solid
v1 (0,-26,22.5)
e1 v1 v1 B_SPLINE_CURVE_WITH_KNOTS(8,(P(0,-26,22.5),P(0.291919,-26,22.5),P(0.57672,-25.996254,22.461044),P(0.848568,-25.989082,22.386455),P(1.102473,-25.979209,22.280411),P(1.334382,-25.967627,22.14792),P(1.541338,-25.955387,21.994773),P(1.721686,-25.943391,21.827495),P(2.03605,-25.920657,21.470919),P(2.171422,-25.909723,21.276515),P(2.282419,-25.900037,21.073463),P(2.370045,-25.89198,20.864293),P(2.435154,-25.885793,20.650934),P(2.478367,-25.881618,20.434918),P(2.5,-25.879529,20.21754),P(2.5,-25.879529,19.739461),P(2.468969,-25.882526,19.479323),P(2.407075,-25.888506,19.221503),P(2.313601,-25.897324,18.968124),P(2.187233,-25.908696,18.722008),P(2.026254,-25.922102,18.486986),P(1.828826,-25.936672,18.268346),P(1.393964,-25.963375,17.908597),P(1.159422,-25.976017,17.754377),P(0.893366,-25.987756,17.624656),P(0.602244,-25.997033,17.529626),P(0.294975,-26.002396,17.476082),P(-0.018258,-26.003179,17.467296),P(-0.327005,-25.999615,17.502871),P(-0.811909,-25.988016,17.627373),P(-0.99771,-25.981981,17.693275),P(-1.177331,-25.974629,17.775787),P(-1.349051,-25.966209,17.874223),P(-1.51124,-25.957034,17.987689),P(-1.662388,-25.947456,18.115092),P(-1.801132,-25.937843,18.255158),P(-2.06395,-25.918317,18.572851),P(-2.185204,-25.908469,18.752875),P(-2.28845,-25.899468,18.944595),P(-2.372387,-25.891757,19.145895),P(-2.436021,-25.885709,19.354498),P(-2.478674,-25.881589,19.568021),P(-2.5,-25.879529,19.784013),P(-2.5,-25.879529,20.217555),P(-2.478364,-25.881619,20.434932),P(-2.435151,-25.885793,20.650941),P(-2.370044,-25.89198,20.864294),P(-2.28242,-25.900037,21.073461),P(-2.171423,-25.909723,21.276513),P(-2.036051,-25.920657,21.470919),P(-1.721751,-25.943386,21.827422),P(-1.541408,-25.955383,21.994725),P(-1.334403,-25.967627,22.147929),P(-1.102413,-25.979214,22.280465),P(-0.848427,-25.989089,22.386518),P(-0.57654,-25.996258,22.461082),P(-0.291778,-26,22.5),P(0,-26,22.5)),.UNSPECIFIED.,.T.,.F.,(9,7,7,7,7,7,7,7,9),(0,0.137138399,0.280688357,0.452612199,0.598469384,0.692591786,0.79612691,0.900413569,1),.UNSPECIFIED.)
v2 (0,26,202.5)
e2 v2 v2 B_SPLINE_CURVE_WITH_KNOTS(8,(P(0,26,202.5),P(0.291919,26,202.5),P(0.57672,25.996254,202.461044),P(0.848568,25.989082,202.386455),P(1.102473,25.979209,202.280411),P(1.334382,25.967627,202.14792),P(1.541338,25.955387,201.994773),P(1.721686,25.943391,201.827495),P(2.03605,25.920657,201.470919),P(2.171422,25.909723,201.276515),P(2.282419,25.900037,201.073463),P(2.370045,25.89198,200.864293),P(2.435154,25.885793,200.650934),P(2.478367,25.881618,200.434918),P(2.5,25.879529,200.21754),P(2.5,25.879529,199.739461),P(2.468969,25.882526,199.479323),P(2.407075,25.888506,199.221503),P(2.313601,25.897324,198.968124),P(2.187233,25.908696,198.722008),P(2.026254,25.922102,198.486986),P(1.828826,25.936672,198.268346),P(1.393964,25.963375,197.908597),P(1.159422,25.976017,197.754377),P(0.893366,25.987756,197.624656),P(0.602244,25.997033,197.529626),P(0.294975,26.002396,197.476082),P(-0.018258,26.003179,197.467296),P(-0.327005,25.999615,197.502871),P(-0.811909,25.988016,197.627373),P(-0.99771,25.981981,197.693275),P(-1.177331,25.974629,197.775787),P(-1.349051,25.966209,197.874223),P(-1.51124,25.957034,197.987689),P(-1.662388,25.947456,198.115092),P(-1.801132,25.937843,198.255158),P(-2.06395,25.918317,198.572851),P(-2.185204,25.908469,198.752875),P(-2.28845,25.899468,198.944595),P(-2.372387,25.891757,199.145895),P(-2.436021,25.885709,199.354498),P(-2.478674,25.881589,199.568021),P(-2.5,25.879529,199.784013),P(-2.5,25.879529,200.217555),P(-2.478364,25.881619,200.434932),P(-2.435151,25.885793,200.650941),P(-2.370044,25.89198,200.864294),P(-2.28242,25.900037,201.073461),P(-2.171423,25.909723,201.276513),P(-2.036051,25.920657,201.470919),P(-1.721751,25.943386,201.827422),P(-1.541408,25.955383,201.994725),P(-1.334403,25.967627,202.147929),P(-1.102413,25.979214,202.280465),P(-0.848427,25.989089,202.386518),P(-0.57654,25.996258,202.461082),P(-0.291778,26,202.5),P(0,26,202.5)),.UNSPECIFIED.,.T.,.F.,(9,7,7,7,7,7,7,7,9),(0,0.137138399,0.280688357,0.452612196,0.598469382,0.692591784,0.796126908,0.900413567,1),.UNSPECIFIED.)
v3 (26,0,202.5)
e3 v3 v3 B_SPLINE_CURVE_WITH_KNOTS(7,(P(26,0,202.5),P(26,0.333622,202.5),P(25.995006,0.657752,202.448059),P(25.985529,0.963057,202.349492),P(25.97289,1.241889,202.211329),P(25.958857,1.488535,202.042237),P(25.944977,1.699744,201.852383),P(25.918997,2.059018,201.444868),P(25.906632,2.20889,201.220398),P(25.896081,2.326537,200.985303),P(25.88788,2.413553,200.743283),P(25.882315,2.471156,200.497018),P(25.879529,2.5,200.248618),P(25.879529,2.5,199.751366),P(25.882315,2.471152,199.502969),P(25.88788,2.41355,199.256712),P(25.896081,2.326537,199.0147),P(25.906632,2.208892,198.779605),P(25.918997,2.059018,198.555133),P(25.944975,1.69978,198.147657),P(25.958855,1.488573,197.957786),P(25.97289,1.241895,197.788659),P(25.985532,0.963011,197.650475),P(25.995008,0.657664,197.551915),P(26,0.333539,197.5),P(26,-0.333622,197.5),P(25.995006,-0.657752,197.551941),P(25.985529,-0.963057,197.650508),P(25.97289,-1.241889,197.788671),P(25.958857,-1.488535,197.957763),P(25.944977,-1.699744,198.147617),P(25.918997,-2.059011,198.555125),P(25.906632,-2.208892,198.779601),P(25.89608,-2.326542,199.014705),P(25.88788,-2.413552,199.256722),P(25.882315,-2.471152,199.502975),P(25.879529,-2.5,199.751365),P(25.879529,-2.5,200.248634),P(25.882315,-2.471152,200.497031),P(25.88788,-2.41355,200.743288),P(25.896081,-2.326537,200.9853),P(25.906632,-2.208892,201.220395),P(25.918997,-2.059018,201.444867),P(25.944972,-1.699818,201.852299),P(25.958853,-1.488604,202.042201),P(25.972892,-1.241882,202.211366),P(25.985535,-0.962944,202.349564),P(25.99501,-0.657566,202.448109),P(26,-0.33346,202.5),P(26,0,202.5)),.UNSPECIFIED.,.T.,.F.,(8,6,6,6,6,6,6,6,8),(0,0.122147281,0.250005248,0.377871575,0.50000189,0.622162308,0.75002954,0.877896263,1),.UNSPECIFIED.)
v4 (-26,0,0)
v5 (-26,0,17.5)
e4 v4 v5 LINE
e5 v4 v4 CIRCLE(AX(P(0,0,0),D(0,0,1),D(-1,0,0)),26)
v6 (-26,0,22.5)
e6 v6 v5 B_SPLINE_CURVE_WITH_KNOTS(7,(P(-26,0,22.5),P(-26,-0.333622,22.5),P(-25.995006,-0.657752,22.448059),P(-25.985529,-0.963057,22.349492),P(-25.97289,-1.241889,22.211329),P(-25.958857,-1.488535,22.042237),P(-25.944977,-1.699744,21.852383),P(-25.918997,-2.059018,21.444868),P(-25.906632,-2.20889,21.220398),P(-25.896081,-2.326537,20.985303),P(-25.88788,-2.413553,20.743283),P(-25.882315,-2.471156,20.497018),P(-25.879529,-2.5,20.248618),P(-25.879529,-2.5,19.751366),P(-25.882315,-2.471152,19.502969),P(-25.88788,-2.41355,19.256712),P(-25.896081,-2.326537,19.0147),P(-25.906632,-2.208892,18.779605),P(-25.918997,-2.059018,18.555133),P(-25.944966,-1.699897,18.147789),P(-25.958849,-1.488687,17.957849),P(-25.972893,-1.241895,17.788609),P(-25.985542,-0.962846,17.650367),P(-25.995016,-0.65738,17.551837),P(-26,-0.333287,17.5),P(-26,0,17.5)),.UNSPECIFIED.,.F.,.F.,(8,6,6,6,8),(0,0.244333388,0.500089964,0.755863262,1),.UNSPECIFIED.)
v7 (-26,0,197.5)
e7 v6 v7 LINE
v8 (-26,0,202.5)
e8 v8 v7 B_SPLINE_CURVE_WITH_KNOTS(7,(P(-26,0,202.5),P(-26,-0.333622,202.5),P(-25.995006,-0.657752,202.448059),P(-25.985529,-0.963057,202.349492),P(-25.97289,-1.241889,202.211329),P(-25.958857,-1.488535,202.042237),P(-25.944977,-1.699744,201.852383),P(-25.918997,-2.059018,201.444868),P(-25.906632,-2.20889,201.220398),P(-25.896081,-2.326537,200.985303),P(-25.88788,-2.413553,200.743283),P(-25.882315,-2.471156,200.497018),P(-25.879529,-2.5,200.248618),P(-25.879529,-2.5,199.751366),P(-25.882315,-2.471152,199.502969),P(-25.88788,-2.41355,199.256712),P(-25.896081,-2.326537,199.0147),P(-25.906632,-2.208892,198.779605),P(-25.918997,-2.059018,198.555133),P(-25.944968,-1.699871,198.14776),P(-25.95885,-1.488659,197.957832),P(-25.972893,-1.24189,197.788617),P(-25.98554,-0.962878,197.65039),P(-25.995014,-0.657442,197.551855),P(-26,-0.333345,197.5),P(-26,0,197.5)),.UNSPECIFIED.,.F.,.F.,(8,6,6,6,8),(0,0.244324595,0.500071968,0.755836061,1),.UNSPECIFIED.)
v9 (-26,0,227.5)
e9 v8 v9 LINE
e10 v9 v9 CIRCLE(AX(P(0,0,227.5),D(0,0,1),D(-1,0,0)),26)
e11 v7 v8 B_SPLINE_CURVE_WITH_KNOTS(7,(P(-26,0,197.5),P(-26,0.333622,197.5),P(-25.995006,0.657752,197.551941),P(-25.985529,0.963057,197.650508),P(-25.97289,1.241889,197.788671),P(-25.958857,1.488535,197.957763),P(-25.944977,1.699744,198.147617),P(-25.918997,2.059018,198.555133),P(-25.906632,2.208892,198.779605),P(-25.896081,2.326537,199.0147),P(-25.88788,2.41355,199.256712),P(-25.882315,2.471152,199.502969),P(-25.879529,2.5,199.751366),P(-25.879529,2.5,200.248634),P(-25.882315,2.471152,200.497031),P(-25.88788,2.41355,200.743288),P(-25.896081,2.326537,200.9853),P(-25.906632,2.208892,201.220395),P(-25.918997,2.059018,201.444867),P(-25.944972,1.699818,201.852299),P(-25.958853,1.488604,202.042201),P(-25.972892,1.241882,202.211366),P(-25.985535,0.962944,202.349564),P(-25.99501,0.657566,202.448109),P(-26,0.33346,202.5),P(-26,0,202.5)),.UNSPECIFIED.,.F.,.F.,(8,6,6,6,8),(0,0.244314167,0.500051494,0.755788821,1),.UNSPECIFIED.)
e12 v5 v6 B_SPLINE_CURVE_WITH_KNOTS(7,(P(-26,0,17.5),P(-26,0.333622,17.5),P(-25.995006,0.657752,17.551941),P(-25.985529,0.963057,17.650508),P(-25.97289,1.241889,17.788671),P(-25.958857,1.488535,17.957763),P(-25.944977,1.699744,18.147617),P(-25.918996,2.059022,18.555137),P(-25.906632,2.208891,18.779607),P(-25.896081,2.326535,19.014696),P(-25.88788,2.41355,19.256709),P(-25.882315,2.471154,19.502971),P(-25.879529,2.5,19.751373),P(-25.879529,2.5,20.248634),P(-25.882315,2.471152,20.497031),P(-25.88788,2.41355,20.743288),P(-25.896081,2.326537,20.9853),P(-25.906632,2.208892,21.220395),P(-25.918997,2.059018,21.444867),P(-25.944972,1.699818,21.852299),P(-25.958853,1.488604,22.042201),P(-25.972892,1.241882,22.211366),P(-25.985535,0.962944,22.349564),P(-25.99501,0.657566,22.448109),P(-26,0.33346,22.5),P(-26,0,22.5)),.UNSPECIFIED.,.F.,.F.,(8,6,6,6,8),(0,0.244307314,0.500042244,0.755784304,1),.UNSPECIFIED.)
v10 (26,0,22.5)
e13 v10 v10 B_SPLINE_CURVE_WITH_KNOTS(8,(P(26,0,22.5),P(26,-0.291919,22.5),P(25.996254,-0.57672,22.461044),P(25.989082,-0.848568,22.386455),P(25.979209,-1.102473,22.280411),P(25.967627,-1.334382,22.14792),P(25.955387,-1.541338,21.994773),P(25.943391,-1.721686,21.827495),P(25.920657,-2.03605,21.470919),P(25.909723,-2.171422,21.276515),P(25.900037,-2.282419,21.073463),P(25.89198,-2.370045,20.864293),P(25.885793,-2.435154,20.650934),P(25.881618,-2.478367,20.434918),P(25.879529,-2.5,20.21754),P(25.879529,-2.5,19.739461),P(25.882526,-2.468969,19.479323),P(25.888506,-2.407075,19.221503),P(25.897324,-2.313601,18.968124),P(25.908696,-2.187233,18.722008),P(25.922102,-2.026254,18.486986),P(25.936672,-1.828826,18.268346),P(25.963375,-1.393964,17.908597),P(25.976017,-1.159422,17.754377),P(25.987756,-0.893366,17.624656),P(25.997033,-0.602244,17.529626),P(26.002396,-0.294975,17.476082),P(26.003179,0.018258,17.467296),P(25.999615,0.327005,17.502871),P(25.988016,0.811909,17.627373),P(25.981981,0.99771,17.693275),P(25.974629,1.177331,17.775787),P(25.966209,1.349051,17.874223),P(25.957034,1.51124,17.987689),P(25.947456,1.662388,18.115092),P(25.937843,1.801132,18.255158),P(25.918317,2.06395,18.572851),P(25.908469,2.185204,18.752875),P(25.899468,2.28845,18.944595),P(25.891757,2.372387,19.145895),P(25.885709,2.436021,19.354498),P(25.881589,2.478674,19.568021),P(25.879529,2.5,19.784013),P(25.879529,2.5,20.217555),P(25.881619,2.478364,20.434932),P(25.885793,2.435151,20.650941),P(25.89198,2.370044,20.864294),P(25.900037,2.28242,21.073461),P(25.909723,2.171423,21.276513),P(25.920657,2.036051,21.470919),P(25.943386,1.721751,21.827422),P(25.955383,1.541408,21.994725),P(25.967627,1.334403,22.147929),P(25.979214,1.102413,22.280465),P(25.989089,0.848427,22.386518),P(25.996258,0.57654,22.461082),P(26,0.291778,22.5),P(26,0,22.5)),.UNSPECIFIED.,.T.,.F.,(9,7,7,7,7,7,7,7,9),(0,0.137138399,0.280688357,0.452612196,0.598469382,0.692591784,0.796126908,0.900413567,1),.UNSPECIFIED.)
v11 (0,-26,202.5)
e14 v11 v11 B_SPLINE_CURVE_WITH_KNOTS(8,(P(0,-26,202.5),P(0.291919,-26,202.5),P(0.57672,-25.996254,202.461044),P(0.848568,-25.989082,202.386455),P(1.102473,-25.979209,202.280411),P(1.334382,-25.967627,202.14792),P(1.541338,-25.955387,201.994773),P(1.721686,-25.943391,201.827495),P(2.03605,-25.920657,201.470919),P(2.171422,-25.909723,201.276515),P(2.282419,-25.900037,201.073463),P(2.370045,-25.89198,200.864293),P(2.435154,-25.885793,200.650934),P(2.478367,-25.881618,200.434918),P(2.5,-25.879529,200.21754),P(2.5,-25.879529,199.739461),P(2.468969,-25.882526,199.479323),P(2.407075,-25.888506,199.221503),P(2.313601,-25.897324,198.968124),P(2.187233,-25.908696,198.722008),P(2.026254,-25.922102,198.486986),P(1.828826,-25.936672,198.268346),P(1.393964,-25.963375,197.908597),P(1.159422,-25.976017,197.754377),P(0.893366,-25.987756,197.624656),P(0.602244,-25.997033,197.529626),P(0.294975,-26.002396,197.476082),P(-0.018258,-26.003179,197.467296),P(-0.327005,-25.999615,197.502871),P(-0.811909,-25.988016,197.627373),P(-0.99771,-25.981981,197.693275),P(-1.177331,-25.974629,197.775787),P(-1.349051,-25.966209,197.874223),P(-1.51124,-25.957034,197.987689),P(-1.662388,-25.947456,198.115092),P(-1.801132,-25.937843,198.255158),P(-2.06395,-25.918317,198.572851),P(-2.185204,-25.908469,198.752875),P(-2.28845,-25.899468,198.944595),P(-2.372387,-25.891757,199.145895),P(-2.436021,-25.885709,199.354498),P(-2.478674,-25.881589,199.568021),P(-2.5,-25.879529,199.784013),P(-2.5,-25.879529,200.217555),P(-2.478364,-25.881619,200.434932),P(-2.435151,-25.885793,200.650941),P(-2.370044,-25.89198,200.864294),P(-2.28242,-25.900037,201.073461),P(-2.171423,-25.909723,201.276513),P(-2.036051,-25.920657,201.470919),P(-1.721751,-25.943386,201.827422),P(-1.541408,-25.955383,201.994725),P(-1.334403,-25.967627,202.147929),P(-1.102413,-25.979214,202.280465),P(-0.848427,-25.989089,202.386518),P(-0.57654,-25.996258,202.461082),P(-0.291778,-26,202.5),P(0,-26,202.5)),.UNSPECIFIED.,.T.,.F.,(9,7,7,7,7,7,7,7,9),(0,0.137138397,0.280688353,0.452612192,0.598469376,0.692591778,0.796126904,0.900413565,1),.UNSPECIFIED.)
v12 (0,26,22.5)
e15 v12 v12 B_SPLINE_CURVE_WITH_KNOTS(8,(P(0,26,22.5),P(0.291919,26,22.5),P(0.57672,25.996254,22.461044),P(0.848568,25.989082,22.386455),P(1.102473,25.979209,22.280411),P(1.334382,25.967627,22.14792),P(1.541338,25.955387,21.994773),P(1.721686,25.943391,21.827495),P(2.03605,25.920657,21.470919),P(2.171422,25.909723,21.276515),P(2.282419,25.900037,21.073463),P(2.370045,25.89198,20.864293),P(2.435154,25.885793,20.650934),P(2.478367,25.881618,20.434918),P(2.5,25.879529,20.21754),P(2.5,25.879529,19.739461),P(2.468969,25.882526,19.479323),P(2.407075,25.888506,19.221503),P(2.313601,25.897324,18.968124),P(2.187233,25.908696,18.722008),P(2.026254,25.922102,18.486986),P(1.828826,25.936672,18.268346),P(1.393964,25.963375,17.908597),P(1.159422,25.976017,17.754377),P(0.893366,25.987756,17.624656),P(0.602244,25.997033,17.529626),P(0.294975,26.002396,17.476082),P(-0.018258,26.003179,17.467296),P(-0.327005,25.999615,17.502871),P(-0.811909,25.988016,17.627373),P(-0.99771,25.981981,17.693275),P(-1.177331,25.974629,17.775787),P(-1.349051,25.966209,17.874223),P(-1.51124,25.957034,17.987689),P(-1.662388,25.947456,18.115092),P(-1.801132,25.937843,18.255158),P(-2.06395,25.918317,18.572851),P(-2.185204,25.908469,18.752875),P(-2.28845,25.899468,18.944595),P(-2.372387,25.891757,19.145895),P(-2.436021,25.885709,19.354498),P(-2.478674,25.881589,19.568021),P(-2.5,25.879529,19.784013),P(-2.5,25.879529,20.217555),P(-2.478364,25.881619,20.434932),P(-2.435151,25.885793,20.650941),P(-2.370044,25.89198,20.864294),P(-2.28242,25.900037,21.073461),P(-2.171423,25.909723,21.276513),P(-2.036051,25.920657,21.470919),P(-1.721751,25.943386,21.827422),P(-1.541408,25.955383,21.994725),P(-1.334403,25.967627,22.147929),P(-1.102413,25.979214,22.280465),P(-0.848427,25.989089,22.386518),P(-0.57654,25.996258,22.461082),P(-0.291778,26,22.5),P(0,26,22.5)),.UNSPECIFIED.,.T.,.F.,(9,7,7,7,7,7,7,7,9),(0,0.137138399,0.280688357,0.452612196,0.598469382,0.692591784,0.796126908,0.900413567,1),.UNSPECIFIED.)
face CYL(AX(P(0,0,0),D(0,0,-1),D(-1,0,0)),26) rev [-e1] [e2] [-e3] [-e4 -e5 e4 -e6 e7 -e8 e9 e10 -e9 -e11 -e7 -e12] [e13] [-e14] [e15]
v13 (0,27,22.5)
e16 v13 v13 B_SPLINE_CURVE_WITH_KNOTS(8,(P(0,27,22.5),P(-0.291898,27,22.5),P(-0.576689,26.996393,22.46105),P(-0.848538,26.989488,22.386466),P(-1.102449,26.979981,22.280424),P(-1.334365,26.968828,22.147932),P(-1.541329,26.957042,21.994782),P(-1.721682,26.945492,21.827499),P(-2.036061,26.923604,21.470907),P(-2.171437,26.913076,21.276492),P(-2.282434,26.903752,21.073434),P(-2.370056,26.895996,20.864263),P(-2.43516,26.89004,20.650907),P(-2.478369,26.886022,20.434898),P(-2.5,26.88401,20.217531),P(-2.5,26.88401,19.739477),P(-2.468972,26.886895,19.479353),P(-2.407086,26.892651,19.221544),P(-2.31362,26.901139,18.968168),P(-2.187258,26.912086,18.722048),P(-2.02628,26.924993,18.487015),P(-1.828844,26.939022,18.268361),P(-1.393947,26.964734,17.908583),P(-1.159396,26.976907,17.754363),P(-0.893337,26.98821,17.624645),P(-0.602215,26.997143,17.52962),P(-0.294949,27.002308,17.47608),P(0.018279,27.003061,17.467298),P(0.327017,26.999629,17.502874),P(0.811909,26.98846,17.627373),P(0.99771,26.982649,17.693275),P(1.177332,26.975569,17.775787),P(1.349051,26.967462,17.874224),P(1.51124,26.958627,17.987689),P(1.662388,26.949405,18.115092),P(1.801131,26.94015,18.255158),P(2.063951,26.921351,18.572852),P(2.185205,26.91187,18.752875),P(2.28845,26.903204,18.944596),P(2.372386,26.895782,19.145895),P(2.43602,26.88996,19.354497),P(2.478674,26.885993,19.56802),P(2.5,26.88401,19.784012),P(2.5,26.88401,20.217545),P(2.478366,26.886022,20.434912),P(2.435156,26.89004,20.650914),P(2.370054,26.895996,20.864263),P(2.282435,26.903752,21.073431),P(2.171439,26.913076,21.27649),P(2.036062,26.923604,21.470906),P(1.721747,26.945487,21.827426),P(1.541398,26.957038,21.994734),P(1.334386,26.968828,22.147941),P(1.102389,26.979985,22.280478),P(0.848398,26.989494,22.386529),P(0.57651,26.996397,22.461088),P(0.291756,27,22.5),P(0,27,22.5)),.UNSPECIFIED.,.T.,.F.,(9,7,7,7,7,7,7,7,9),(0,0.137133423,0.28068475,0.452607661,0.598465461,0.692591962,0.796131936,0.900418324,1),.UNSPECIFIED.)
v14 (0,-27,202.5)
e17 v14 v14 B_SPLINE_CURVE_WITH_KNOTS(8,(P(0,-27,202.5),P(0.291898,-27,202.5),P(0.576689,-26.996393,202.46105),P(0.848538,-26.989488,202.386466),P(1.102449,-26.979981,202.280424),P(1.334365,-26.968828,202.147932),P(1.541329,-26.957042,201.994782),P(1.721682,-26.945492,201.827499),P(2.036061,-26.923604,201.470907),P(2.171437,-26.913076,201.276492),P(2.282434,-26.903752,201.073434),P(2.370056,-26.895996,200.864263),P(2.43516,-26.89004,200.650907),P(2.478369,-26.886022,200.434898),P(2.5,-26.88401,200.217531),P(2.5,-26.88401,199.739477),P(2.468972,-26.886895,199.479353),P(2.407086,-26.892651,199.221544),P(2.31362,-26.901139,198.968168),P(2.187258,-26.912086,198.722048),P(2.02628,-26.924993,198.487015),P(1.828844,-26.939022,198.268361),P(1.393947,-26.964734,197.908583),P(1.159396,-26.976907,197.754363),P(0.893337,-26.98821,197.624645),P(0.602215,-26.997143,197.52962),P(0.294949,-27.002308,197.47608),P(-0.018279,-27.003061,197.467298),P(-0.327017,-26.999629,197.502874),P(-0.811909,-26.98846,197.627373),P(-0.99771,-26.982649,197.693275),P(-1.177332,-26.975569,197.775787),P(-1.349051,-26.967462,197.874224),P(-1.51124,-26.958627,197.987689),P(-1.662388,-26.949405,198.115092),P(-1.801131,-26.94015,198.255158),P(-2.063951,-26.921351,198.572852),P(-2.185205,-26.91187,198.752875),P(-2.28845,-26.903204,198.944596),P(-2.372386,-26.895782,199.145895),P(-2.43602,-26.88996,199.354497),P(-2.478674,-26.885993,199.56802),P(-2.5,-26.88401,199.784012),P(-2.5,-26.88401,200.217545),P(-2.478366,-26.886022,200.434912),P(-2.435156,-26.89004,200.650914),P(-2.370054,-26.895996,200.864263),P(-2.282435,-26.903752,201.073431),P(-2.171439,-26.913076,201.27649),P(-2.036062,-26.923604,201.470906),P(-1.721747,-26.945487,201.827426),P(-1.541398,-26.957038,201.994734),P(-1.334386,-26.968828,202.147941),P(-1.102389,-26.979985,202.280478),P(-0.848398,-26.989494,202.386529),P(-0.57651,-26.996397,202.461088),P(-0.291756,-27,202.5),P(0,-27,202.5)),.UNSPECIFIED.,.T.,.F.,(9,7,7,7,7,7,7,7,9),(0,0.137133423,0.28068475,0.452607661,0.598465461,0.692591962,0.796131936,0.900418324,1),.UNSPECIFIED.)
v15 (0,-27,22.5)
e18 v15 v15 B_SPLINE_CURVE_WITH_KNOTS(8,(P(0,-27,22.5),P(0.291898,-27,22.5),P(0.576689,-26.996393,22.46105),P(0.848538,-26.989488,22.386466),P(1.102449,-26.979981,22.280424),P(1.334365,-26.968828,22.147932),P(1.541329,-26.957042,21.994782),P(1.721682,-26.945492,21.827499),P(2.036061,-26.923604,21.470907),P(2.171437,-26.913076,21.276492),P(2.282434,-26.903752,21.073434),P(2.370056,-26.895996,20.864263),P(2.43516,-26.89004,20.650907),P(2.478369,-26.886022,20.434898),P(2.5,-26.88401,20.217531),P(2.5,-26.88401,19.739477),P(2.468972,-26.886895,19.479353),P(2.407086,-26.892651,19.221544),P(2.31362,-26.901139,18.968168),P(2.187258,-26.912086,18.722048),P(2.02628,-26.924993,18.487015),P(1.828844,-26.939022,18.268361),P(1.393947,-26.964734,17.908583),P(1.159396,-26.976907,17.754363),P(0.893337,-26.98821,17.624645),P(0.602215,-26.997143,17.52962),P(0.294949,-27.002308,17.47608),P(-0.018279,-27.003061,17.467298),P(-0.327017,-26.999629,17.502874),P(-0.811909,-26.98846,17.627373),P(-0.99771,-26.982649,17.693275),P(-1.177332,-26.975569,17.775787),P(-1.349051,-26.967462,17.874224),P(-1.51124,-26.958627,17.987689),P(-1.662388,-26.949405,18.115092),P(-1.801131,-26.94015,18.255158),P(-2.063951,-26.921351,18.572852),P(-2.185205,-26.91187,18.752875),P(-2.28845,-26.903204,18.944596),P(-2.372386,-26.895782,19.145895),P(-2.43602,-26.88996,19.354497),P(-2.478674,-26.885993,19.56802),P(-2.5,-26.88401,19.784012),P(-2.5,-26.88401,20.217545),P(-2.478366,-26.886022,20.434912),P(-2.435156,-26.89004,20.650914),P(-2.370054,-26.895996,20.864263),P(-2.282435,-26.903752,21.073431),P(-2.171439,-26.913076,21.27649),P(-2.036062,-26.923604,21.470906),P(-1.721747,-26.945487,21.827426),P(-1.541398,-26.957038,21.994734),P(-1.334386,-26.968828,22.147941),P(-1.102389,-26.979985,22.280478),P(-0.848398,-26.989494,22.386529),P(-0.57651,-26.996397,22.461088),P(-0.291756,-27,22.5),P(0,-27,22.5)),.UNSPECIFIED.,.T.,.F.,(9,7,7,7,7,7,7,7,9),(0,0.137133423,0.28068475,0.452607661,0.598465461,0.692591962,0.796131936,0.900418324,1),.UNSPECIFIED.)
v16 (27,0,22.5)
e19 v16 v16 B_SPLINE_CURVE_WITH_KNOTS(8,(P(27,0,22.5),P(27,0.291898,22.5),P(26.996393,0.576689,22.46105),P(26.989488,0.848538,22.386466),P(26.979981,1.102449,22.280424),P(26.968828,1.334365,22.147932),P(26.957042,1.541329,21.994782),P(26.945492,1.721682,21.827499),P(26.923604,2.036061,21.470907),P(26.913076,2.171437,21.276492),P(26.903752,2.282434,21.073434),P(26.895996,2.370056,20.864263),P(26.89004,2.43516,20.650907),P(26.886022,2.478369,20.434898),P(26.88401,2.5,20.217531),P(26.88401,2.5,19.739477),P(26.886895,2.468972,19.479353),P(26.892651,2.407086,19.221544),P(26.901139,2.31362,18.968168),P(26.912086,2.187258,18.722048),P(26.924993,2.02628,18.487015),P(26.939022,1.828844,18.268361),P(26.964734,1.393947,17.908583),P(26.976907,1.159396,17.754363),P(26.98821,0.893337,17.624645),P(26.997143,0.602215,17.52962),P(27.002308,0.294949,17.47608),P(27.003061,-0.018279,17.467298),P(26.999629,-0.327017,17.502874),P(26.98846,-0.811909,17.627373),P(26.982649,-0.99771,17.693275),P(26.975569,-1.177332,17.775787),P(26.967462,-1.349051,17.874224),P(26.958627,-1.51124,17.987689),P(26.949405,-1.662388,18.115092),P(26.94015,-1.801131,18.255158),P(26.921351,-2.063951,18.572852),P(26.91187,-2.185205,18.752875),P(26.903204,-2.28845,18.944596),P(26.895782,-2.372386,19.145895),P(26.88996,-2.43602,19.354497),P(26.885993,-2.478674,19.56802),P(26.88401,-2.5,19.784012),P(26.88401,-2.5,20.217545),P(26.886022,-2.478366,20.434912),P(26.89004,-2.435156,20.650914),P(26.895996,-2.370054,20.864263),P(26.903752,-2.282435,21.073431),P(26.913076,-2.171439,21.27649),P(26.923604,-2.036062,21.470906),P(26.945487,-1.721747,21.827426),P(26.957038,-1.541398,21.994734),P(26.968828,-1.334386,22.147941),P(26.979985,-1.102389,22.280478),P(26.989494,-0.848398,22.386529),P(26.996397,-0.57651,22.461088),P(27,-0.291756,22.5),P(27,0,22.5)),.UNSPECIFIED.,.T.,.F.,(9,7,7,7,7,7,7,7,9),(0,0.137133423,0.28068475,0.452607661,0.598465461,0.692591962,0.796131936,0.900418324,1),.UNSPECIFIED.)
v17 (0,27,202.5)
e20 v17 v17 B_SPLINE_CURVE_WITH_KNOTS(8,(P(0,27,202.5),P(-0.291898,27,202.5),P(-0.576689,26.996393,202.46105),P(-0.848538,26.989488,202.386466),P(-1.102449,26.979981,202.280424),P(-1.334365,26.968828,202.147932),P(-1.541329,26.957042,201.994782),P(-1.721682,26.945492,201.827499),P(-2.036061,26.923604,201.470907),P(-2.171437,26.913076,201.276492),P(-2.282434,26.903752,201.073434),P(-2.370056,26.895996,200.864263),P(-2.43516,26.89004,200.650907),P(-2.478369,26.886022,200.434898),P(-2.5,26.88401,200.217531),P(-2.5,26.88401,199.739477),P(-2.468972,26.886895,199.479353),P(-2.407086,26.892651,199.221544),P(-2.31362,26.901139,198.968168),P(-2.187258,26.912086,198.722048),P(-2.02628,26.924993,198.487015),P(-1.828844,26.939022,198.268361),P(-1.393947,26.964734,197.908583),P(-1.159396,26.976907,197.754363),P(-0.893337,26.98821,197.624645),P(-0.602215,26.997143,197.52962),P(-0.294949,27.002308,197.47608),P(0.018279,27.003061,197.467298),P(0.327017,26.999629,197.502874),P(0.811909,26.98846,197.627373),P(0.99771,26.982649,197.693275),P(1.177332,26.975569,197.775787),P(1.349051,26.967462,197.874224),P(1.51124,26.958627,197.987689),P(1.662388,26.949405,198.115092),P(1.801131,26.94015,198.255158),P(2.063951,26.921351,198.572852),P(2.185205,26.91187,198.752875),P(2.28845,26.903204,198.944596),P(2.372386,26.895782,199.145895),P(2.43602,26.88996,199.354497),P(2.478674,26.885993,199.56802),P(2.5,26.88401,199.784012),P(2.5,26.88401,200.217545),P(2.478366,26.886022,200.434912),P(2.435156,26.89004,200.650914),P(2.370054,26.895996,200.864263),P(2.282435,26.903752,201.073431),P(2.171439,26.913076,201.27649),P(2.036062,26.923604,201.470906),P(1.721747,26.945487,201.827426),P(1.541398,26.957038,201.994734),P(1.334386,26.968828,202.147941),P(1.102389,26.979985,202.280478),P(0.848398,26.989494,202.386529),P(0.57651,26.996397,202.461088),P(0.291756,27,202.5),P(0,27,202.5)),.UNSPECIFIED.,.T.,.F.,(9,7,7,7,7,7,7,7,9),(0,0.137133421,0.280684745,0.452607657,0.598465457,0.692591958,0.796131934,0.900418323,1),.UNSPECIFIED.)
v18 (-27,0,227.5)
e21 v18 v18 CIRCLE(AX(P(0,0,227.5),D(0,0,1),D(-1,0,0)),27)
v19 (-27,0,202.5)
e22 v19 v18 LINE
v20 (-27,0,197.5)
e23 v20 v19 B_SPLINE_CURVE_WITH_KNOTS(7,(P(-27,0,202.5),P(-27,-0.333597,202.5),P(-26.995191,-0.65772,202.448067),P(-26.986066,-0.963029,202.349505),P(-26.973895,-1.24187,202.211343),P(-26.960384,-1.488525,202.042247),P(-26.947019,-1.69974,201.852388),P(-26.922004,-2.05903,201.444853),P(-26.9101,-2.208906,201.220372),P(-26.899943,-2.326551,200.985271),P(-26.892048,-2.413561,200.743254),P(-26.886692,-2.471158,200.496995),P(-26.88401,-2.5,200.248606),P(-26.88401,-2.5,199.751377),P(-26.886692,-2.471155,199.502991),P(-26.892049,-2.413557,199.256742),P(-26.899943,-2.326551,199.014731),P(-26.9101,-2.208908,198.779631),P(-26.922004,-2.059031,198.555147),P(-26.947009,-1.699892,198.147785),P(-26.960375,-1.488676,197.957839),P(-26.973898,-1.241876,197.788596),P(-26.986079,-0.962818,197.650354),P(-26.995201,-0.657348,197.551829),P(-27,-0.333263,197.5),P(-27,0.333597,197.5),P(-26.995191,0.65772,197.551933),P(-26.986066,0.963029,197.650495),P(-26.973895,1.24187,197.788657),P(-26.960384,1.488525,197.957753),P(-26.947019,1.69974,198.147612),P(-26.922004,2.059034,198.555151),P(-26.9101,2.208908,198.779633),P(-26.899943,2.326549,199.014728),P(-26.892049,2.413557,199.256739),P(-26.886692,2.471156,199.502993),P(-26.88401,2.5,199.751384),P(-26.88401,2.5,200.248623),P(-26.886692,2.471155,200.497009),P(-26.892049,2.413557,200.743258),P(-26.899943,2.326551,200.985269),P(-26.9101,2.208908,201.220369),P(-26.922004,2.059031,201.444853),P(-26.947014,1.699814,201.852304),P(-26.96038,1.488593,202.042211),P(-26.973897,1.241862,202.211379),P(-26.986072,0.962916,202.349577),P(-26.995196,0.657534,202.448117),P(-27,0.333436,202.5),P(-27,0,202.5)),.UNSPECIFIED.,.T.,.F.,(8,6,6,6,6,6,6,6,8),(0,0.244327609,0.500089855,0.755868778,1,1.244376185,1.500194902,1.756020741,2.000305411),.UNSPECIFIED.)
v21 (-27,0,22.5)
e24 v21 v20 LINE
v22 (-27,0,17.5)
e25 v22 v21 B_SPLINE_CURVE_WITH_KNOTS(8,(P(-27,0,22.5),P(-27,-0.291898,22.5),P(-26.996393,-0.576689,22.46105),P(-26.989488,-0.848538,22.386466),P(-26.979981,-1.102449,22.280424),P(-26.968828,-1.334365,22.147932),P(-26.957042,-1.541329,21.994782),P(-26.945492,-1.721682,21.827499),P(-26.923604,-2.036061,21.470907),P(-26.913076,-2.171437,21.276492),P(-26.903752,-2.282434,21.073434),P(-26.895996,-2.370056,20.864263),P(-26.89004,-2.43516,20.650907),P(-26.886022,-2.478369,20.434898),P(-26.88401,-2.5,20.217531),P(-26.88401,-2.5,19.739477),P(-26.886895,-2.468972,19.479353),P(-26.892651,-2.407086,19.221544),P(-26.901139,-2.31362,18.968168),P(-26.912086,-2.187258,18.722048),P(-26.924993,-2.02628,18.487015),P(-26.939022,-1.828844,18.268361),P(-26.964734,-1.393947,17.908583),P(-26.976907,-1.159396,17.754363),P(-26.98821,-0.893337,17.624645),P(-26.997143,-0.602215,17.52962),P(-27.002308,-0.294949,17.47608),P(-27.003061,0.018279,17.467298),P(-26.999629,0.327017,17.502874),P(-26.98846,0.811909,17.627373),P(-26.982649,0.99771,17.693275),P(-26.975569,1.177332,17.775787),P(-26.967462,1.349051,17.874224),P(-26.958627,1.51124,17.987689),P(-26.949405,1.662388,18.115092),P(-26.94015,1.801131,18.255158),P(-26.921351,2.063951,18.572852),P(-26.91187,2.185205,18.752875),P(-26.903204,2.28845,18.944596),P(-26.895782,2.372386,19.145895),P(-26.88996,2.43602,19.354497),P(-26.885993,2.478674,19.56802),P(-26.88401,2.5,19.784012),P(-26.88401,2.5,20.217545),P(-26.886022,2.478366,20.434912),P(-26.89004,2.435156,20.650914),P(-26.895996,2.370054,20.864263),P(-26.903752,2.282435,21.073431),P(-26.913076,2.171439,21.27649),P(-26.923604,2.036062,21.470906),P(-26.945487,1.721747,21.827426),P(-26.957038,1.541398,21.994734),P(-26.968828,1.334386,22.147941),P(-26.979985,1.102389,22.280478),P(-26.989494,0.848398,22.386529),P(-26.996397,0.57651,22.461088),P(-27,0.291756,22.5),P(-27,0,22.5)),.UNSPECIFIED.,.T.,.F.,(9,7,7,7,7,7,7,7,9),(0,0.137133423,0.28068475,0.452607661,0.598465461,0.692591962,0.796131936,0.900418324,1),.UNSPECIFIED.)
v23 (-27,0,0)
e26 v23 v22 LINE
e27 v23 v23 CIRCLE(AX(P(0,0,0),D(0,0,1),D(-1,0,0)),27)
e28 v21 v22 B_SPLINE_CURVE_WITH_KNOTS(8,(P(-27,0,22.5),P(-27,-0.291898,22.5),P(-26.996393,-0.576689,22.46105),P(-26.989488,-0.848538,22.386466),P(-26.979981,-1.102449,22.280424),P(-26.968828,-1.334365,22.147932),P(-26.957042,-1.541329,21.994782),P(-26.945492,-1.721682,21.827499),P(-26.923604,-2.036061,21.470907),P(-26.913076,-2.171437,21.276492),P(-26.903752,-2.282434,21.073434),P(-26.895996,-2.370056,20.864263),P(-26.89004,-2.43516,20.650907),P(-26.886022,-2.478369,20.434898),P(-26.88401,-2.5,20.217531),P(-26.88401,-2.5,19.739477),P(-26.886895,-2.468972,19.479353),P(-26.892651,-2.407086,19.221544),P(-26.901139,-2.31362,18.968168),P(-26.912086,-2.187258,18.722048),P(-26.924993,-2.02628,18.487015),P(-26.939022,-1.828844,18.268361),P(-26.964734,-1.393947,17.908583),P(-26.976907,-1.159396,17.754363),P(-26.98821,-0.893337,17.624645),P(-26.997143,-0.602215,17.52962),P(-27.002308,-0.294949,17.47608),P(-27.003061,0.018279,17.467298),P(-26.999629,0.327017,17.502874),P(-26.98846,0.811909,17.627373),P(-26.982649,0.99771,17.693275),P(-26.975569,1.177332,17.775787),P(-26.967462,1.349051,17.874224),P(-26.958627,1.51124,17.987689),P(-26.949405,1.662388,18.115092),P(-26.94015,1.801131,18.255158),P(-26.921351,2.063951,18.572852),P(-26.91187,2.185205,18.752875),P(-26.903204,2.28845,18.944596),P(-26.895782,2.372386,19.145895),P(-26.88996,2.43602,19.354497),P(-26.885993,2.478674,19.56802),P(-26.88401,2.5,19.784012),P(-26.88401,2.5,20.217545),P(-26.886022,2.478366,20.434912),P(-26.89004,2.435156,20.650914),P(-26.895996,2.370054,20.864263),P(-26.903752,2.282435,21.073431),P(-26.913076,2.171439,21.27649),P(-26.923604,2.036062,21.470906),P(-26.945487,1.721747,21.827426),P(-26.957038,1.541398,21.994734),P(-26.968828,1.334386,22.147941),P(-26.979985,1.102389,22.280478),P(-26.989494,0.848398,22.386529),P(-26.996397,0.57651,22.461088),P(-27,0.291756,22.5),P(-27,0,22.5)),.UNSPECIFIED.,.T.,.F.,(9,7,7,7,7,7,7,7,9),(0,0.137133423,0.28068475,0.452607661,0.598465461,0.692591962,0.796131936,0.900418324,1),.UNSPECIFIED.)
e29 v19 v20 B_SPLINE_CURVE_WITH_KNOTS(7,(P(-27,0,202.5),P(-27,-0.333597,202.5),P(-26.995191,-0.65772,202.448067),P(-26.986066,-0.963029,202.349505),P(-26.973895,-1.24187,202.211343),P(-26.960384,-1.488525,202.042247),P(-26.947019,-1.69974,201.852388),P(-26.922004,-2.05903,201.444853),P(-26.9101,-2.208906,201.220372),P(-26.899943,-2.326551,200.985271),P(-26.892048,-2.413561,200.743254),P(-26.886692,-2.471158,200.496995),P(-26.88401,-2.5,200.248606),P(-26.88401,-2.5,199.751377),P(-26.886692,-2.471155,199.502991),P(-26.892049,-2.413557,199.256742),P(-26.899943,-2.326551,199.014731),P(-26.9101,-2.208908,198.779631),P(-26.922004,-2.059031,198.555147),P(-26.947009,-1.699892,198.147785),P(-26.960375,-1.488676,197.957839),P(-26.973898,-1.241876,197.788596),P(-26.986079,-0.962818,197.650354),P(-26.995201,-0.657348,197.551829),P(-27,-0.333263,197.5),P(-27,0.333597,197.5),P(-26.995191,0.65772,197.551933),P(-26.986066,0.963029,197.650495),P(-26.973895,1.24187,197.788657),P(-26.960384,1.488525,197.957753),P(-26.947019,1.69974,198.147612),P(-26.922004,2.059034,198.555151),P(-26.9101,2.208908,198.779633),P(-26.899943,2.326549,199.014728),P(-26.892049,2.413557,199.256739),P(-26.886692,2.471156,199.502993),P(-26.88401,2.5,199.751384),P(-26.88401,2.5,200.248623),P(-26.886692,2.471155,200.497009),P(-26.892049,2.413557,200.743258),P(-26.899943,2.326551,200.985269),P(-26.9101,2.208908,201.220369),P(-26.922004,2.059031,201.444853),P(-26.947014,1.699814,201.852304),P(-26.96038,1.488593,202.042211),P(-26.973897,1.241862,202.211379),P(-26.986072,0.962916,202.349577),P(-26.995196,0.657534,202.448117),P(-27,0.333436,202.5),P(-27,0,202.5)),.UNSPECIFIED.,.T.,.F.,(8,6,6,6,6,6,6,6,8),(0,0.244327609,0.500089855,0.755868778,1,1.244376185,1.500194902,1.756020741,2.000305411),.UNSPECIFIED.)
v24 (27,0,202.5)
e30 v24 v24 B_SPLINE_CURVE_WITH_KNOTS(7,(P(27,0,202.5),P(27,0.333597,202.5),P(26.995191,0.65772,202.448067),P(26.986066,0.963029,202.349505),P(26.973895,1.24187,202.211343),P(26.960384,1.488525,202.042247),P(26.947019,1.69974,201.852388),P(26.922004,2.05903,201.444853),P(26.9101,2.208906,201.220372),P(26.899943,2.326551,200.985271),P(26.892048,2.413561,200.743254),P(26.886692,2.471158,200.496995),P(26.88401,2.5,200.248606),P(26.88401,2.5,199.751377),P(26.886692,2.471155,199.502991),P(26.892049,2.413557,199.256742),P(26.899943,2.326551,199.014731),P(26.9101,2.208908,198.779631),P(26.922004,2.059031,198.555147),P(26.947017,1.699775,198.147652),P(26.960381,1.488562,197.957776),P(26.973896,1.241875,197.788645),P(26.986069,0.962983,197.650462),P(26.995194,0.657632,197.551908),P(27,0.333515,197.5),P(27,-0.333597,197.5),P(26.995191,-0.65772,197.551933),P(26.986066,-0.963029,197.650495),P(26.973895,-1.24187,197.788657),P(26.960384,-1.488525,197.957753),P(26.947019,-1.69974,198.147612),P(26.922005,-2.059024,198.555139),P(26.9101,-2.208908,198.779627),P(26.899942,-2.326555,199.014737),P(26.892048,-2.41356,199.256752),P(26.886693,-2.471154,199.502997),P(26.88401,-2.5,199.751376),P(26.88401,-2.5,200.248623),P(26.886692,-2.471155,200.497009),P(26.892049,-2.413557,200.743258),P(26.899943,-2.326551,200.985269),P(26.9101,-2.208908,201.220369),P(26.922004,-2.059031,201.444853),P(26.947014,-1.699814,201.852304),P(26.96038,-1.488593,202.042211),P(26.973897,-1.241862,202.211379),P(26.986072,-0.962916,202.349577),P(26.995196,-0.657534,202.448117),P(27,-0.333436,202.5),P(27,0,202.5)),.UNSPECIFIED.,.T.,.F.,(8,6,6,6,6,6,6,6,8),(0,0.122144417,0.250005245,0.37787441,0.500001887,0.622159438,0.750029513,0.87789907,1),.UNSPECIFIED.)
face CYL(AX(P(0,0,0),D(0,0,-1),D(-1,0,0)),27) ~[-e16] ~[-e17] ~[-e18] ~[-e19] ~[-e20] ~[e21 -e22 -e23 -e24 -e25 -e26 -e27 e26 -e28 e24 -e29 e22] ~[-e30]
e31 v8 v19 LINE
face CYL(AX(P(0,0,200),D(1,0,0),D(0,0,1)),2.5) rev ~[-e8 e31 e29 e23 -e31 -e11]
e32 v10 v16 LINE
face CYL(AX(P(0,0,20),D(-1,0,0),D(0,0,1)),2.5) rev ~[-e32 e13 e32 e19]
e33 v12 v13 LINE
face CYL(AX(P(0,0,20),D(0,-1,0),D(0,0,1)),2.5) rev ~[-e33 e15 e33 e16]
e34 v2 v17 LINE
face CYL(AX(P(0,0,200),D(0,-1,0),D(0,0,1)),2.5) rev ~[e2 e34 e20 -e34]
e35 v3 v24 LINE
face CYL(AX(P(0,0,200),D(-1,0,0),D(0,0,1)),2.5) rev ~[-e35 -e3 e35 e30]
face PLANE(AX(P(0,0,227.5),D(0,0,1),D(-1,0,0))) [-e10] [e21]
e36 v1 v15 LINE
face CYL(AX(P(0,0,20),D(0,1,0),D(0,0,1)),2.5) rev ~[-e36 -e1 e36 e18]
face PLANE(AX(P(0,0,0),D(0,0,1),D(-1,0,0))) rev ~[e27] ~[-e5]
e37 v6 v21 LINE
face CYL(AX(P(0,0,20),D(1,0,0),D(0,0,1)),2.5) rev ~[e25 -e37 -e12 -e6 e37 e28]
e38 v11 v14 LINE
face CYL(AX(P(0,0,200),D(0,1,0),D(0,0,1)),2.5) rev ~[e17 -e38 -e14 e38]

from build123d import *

# Parameters (mm, degrees)
SKETCH1_R                           = 27
SKETCH1_R_2                         = 26
BOSS_EXTRUDE1_DEPTH                 = 227.5
CUT_EXTRUDE1_REACH                  = 232.682
CUT_EXTRUDE1_END_RADIUS             = 27
SKETCH2_R                           = 2.5
CUT_EXTRUDE1_DIRECTION_2_REACH      = 232.682
CUT_EXTRUDE1_DIRECTION_2_END_RADIUS = 26
LPATTERN1_COUNT                     = 2
LPATTERN1_PITCH                     = 180
CIRPATTERN2_COUNT                   = 4
CIRPATTERN2_COPY_1_REACH            = 232.682
CIRPATTERN2_COPY_1_END_RADIUS       = 27
CIRPATTERN2_COPY_1_SKETCH_R         = 2.5
CIRPATTERN2_COPY_2_REACH            = 232.682
CIRPATTERN2_COPY_2_END_RADIUS       = 27
CIRPATTERN2_COPY_2_SKETCH_R         = 2.5
CIRPATTERN2_COPY_3_REACH            = 232.682
CIRPATTERN2_COPY_3_END_RADIUS       = 27
CIRPATTERN2_COPY_3_SKETCH_R         = 2.5


with BuildPart() as part:
    # Sketch1 → Boss-Extrude1 (new body)
    with BuildSketch(Plane.XY):
        with Locations(Location((0, 0, 0), (0, 0, 180))):
            Circle(SKETCH1_R)
        with Locations(Location((0, 0, 0), (0, 0, 180))):
            Circle(SKETCH1_R_2, mode=Mode.SUBTRACT)
    extrude(amount=BOSS_EXTRUDE1_DEPTH)

    # Cut-Extrude1: up to this cylinder (the profile starts inside it)
    cut_extrude1_end = Plane(origin=(0, 0, 20), z_dir=(0, 0, -1)) * Cylinder(CUT_EXTRUDE1_END_RADIUS, 520.364, mode=Mode.PRIVATE)
    # Sketch2 → Cut-Extrude1 (cut, up to the surface)
    with BuildSketch(Plane(origin=(0, 0, 0), x_dir=(1, 0, 0), z_dir=(0, 1, 0)), mode=Mode.PRIVATE) as cut_extrude1_sk1:
        with Locations(Location((0, -20, 0), (0, 0, 270))):
            Circle(SKETCH2_R)
    cut_extrude1_tool1 = extrude(cut_extrude1_sk1.sketch, amount=-CUT_EXTRUDE1_REACH, mode=Mode.PRIVATE) & cut_extrude1_end
    cut_extrude1 = cut_extrude1_tool1.solids().sort_by_distance((0, 0, 20))[0]
    add(cut_extrude1, mode=Mode.SUBTRACT)

    # Cut-Extrude1 direction 2: up to this cylinder (the profile starts inside it)
    cut_extrude1_direction_2_end = Plane(origin=(0, 0, 20), z_dir=(0, 0, -1)) * Cylinder(CUT_EXTRUDE1_DIRECTION_2_END_RADIUS, 518.364, mode=Mode.PRIVATE)
    # Sketch2 → Cut-Extrude1 direction 2 (cut, up to the surface)
    with BuildSketch(Plane(origin=(0, 0, 0), x_dir=(1, 0, 0), z_dir=(0, 1, 0)), mode=Mode.PRIVATE) as cut_extrude1_direction_2_sk1:
        with Locations(Location((0, -20, 0), (0, 0, 270))):
            Circle(SKETCH2_R)
    cut_extrude1_direction_2_tool1 = extrude(cut_extrude1_direction_2_sk1.sketch, amount=CUT_EXTRUDE1_DIRECTION_2_REACH, mode=Mode.PRIVATE) & cut_extrude1_direction_2_end
    cut_extrude1_direction_2 = cut_extrude1_direction_2_tool1.solids().sort_by_distance((0, 0, 20))[0]
    add(cut_extrude1_direction_2, mode=Mode.SUBTRACT)
    cut_extrude1 = cut_extrude1 + cut_extrude1_direction_2  # both directions under the feature's name, for the pattern or mirror that repeats it

    # LPattern1: Cut-Extrude1 ×2
    with Locations(*[(0, 0, i * LPATTERN1_PITCH) for i in range(1, LPATTERN1_COUNT)]):
        add(cut_extrude1, mode=Mode.SUBTRACT)

    # CirPattern2: Cut-Extrude1 ×4 about axis
    cirpattern2_axis = Axis((0, 0, 227.5), (0, 0, -1))
    for i in range(1, CIRPATTERN2_COUNT):
        add(cut_extrude1.rotate(cirpattern2_axis, i * 360 / CIRPATTERN2_COUNT), mode=Mode.SUBTRACT)

    # CirPattern2 copy 1: up to this cylinder (the profile starts inside it)
    cirpattern2_copy_1_end = Plane(origin=(0, 0, 20), z_dir=(0, 0, -1)) * Cylinder(CIRPATTERN2_COPY_1_END_RADIUS, 520.364, mode=Mode.PRIVATE)
    # CirPattern2 copy 1 sketch → CirPattern2 copy 1 (cut, up to the surface)
    with BuildSketch(Plane(origin=(0, 0, 180), x_dir=(0, -1, 0), z_dir=(1, 0, 0)), mode=Mode.PRIVATE) as cirpattern2_copy_1_sk1:
        with Locations(Location((0, -20, 0), (0, 0, 270))):
            Circle(CIRPATTERN2_COPY_1_SKETCH_R)
    cirpattern2_copy_1_tool1 = extrude(cirpattern2_copy_1_sk1.sketch, amount=-CIRPATTERN2_COPY_1_REACH, mode=Mode.PRIVATE) & cirpattern2_copy_1_end
    add(cirpattern2_copy_1_tool1.solids().sort_by_distance((0, 0, 20))[0], mode=Mode.SUBTRACT)

    # CirPattern2 copy 2: up to this cylinder (the profile starts inside it)
    cirpattern2_copy_2_end = Plane(origin=(0, 0, 20), z_dir=(0, 0, -1)) * Cylinder(CIRPATTERN2_COPY_2_END_RADIUS, 520.364, mode=Mode.PRIVATE)
    # CirPattern2 copy 2 sketch → CirPattern2 copy 2 (cut, up to the surface)
    with BuildSketch(Plane(origin=(0, 0, 180), x_dir=(-1, 0, 0), z_dir=(0, -1, 0)), mode=Mode.PRIVATE) as cirpattern2_copy_2_sk1:
        with Locations(Location((0, -20, 0), (0, 0, 270))):
            Circle(CIRPATTERN2_COPY_2_SKETCH_R)
    cirpattern2_copy_2_tool1 = extrude(cirpattern2_copy_2_sk1.sketch, amount=-CIRPATTERN2_COPY_2_REACH, mode=Mode.PRIVATE) & cirpattern2_copy_2_end
    add(cirpattern2_copy_2_tool1.solids().sort_by_distance((0, 0, 20))[0], mode=Mode.SUBTRACT)

    # CirPattern2 copy 3: up to this cylinder (the profile starts inside it)
    cirpattern2_copy_3_end = Plane(origin=(0, 0, 20), z_dir=(0, 0, -1)) * Cylinder(CIRPATTERN2_COPY_3_END_RADIUS, 520.364, mode=Mode.PRIVATE)
    # CirPattern2 copy 3 sketch → CirPattern2 copy 3 (cut, up to the surface)
    with BuildSketch(Plane(origin=(0, 0, 180), x_dir=(0, 1, 0), z_dir=(-1, 0, 0)), mode=Mode.PRIVATE) as cirpattern2_copy_3_sk1:
        with Locations(Location((0, -20, 0), (0, 0, 270))):
            Circle(CIRPATTERN2_COPY_3_SKETCH_R)
    cirpattern2_copy_3_tool1 = extrude(cirpattern2_copy_3_sk1.sketch, amount=-CIRPATTERN2_COPY_3_REACH, mode=Mode.PRIVATE) & cirpattern2_copy_3_end
    add(cirpattern2_copy_3_tool1.solids().sort_by_distance((0, 0, 20))[0], mode=Mode.SUBTRACT)


solid = part.part
